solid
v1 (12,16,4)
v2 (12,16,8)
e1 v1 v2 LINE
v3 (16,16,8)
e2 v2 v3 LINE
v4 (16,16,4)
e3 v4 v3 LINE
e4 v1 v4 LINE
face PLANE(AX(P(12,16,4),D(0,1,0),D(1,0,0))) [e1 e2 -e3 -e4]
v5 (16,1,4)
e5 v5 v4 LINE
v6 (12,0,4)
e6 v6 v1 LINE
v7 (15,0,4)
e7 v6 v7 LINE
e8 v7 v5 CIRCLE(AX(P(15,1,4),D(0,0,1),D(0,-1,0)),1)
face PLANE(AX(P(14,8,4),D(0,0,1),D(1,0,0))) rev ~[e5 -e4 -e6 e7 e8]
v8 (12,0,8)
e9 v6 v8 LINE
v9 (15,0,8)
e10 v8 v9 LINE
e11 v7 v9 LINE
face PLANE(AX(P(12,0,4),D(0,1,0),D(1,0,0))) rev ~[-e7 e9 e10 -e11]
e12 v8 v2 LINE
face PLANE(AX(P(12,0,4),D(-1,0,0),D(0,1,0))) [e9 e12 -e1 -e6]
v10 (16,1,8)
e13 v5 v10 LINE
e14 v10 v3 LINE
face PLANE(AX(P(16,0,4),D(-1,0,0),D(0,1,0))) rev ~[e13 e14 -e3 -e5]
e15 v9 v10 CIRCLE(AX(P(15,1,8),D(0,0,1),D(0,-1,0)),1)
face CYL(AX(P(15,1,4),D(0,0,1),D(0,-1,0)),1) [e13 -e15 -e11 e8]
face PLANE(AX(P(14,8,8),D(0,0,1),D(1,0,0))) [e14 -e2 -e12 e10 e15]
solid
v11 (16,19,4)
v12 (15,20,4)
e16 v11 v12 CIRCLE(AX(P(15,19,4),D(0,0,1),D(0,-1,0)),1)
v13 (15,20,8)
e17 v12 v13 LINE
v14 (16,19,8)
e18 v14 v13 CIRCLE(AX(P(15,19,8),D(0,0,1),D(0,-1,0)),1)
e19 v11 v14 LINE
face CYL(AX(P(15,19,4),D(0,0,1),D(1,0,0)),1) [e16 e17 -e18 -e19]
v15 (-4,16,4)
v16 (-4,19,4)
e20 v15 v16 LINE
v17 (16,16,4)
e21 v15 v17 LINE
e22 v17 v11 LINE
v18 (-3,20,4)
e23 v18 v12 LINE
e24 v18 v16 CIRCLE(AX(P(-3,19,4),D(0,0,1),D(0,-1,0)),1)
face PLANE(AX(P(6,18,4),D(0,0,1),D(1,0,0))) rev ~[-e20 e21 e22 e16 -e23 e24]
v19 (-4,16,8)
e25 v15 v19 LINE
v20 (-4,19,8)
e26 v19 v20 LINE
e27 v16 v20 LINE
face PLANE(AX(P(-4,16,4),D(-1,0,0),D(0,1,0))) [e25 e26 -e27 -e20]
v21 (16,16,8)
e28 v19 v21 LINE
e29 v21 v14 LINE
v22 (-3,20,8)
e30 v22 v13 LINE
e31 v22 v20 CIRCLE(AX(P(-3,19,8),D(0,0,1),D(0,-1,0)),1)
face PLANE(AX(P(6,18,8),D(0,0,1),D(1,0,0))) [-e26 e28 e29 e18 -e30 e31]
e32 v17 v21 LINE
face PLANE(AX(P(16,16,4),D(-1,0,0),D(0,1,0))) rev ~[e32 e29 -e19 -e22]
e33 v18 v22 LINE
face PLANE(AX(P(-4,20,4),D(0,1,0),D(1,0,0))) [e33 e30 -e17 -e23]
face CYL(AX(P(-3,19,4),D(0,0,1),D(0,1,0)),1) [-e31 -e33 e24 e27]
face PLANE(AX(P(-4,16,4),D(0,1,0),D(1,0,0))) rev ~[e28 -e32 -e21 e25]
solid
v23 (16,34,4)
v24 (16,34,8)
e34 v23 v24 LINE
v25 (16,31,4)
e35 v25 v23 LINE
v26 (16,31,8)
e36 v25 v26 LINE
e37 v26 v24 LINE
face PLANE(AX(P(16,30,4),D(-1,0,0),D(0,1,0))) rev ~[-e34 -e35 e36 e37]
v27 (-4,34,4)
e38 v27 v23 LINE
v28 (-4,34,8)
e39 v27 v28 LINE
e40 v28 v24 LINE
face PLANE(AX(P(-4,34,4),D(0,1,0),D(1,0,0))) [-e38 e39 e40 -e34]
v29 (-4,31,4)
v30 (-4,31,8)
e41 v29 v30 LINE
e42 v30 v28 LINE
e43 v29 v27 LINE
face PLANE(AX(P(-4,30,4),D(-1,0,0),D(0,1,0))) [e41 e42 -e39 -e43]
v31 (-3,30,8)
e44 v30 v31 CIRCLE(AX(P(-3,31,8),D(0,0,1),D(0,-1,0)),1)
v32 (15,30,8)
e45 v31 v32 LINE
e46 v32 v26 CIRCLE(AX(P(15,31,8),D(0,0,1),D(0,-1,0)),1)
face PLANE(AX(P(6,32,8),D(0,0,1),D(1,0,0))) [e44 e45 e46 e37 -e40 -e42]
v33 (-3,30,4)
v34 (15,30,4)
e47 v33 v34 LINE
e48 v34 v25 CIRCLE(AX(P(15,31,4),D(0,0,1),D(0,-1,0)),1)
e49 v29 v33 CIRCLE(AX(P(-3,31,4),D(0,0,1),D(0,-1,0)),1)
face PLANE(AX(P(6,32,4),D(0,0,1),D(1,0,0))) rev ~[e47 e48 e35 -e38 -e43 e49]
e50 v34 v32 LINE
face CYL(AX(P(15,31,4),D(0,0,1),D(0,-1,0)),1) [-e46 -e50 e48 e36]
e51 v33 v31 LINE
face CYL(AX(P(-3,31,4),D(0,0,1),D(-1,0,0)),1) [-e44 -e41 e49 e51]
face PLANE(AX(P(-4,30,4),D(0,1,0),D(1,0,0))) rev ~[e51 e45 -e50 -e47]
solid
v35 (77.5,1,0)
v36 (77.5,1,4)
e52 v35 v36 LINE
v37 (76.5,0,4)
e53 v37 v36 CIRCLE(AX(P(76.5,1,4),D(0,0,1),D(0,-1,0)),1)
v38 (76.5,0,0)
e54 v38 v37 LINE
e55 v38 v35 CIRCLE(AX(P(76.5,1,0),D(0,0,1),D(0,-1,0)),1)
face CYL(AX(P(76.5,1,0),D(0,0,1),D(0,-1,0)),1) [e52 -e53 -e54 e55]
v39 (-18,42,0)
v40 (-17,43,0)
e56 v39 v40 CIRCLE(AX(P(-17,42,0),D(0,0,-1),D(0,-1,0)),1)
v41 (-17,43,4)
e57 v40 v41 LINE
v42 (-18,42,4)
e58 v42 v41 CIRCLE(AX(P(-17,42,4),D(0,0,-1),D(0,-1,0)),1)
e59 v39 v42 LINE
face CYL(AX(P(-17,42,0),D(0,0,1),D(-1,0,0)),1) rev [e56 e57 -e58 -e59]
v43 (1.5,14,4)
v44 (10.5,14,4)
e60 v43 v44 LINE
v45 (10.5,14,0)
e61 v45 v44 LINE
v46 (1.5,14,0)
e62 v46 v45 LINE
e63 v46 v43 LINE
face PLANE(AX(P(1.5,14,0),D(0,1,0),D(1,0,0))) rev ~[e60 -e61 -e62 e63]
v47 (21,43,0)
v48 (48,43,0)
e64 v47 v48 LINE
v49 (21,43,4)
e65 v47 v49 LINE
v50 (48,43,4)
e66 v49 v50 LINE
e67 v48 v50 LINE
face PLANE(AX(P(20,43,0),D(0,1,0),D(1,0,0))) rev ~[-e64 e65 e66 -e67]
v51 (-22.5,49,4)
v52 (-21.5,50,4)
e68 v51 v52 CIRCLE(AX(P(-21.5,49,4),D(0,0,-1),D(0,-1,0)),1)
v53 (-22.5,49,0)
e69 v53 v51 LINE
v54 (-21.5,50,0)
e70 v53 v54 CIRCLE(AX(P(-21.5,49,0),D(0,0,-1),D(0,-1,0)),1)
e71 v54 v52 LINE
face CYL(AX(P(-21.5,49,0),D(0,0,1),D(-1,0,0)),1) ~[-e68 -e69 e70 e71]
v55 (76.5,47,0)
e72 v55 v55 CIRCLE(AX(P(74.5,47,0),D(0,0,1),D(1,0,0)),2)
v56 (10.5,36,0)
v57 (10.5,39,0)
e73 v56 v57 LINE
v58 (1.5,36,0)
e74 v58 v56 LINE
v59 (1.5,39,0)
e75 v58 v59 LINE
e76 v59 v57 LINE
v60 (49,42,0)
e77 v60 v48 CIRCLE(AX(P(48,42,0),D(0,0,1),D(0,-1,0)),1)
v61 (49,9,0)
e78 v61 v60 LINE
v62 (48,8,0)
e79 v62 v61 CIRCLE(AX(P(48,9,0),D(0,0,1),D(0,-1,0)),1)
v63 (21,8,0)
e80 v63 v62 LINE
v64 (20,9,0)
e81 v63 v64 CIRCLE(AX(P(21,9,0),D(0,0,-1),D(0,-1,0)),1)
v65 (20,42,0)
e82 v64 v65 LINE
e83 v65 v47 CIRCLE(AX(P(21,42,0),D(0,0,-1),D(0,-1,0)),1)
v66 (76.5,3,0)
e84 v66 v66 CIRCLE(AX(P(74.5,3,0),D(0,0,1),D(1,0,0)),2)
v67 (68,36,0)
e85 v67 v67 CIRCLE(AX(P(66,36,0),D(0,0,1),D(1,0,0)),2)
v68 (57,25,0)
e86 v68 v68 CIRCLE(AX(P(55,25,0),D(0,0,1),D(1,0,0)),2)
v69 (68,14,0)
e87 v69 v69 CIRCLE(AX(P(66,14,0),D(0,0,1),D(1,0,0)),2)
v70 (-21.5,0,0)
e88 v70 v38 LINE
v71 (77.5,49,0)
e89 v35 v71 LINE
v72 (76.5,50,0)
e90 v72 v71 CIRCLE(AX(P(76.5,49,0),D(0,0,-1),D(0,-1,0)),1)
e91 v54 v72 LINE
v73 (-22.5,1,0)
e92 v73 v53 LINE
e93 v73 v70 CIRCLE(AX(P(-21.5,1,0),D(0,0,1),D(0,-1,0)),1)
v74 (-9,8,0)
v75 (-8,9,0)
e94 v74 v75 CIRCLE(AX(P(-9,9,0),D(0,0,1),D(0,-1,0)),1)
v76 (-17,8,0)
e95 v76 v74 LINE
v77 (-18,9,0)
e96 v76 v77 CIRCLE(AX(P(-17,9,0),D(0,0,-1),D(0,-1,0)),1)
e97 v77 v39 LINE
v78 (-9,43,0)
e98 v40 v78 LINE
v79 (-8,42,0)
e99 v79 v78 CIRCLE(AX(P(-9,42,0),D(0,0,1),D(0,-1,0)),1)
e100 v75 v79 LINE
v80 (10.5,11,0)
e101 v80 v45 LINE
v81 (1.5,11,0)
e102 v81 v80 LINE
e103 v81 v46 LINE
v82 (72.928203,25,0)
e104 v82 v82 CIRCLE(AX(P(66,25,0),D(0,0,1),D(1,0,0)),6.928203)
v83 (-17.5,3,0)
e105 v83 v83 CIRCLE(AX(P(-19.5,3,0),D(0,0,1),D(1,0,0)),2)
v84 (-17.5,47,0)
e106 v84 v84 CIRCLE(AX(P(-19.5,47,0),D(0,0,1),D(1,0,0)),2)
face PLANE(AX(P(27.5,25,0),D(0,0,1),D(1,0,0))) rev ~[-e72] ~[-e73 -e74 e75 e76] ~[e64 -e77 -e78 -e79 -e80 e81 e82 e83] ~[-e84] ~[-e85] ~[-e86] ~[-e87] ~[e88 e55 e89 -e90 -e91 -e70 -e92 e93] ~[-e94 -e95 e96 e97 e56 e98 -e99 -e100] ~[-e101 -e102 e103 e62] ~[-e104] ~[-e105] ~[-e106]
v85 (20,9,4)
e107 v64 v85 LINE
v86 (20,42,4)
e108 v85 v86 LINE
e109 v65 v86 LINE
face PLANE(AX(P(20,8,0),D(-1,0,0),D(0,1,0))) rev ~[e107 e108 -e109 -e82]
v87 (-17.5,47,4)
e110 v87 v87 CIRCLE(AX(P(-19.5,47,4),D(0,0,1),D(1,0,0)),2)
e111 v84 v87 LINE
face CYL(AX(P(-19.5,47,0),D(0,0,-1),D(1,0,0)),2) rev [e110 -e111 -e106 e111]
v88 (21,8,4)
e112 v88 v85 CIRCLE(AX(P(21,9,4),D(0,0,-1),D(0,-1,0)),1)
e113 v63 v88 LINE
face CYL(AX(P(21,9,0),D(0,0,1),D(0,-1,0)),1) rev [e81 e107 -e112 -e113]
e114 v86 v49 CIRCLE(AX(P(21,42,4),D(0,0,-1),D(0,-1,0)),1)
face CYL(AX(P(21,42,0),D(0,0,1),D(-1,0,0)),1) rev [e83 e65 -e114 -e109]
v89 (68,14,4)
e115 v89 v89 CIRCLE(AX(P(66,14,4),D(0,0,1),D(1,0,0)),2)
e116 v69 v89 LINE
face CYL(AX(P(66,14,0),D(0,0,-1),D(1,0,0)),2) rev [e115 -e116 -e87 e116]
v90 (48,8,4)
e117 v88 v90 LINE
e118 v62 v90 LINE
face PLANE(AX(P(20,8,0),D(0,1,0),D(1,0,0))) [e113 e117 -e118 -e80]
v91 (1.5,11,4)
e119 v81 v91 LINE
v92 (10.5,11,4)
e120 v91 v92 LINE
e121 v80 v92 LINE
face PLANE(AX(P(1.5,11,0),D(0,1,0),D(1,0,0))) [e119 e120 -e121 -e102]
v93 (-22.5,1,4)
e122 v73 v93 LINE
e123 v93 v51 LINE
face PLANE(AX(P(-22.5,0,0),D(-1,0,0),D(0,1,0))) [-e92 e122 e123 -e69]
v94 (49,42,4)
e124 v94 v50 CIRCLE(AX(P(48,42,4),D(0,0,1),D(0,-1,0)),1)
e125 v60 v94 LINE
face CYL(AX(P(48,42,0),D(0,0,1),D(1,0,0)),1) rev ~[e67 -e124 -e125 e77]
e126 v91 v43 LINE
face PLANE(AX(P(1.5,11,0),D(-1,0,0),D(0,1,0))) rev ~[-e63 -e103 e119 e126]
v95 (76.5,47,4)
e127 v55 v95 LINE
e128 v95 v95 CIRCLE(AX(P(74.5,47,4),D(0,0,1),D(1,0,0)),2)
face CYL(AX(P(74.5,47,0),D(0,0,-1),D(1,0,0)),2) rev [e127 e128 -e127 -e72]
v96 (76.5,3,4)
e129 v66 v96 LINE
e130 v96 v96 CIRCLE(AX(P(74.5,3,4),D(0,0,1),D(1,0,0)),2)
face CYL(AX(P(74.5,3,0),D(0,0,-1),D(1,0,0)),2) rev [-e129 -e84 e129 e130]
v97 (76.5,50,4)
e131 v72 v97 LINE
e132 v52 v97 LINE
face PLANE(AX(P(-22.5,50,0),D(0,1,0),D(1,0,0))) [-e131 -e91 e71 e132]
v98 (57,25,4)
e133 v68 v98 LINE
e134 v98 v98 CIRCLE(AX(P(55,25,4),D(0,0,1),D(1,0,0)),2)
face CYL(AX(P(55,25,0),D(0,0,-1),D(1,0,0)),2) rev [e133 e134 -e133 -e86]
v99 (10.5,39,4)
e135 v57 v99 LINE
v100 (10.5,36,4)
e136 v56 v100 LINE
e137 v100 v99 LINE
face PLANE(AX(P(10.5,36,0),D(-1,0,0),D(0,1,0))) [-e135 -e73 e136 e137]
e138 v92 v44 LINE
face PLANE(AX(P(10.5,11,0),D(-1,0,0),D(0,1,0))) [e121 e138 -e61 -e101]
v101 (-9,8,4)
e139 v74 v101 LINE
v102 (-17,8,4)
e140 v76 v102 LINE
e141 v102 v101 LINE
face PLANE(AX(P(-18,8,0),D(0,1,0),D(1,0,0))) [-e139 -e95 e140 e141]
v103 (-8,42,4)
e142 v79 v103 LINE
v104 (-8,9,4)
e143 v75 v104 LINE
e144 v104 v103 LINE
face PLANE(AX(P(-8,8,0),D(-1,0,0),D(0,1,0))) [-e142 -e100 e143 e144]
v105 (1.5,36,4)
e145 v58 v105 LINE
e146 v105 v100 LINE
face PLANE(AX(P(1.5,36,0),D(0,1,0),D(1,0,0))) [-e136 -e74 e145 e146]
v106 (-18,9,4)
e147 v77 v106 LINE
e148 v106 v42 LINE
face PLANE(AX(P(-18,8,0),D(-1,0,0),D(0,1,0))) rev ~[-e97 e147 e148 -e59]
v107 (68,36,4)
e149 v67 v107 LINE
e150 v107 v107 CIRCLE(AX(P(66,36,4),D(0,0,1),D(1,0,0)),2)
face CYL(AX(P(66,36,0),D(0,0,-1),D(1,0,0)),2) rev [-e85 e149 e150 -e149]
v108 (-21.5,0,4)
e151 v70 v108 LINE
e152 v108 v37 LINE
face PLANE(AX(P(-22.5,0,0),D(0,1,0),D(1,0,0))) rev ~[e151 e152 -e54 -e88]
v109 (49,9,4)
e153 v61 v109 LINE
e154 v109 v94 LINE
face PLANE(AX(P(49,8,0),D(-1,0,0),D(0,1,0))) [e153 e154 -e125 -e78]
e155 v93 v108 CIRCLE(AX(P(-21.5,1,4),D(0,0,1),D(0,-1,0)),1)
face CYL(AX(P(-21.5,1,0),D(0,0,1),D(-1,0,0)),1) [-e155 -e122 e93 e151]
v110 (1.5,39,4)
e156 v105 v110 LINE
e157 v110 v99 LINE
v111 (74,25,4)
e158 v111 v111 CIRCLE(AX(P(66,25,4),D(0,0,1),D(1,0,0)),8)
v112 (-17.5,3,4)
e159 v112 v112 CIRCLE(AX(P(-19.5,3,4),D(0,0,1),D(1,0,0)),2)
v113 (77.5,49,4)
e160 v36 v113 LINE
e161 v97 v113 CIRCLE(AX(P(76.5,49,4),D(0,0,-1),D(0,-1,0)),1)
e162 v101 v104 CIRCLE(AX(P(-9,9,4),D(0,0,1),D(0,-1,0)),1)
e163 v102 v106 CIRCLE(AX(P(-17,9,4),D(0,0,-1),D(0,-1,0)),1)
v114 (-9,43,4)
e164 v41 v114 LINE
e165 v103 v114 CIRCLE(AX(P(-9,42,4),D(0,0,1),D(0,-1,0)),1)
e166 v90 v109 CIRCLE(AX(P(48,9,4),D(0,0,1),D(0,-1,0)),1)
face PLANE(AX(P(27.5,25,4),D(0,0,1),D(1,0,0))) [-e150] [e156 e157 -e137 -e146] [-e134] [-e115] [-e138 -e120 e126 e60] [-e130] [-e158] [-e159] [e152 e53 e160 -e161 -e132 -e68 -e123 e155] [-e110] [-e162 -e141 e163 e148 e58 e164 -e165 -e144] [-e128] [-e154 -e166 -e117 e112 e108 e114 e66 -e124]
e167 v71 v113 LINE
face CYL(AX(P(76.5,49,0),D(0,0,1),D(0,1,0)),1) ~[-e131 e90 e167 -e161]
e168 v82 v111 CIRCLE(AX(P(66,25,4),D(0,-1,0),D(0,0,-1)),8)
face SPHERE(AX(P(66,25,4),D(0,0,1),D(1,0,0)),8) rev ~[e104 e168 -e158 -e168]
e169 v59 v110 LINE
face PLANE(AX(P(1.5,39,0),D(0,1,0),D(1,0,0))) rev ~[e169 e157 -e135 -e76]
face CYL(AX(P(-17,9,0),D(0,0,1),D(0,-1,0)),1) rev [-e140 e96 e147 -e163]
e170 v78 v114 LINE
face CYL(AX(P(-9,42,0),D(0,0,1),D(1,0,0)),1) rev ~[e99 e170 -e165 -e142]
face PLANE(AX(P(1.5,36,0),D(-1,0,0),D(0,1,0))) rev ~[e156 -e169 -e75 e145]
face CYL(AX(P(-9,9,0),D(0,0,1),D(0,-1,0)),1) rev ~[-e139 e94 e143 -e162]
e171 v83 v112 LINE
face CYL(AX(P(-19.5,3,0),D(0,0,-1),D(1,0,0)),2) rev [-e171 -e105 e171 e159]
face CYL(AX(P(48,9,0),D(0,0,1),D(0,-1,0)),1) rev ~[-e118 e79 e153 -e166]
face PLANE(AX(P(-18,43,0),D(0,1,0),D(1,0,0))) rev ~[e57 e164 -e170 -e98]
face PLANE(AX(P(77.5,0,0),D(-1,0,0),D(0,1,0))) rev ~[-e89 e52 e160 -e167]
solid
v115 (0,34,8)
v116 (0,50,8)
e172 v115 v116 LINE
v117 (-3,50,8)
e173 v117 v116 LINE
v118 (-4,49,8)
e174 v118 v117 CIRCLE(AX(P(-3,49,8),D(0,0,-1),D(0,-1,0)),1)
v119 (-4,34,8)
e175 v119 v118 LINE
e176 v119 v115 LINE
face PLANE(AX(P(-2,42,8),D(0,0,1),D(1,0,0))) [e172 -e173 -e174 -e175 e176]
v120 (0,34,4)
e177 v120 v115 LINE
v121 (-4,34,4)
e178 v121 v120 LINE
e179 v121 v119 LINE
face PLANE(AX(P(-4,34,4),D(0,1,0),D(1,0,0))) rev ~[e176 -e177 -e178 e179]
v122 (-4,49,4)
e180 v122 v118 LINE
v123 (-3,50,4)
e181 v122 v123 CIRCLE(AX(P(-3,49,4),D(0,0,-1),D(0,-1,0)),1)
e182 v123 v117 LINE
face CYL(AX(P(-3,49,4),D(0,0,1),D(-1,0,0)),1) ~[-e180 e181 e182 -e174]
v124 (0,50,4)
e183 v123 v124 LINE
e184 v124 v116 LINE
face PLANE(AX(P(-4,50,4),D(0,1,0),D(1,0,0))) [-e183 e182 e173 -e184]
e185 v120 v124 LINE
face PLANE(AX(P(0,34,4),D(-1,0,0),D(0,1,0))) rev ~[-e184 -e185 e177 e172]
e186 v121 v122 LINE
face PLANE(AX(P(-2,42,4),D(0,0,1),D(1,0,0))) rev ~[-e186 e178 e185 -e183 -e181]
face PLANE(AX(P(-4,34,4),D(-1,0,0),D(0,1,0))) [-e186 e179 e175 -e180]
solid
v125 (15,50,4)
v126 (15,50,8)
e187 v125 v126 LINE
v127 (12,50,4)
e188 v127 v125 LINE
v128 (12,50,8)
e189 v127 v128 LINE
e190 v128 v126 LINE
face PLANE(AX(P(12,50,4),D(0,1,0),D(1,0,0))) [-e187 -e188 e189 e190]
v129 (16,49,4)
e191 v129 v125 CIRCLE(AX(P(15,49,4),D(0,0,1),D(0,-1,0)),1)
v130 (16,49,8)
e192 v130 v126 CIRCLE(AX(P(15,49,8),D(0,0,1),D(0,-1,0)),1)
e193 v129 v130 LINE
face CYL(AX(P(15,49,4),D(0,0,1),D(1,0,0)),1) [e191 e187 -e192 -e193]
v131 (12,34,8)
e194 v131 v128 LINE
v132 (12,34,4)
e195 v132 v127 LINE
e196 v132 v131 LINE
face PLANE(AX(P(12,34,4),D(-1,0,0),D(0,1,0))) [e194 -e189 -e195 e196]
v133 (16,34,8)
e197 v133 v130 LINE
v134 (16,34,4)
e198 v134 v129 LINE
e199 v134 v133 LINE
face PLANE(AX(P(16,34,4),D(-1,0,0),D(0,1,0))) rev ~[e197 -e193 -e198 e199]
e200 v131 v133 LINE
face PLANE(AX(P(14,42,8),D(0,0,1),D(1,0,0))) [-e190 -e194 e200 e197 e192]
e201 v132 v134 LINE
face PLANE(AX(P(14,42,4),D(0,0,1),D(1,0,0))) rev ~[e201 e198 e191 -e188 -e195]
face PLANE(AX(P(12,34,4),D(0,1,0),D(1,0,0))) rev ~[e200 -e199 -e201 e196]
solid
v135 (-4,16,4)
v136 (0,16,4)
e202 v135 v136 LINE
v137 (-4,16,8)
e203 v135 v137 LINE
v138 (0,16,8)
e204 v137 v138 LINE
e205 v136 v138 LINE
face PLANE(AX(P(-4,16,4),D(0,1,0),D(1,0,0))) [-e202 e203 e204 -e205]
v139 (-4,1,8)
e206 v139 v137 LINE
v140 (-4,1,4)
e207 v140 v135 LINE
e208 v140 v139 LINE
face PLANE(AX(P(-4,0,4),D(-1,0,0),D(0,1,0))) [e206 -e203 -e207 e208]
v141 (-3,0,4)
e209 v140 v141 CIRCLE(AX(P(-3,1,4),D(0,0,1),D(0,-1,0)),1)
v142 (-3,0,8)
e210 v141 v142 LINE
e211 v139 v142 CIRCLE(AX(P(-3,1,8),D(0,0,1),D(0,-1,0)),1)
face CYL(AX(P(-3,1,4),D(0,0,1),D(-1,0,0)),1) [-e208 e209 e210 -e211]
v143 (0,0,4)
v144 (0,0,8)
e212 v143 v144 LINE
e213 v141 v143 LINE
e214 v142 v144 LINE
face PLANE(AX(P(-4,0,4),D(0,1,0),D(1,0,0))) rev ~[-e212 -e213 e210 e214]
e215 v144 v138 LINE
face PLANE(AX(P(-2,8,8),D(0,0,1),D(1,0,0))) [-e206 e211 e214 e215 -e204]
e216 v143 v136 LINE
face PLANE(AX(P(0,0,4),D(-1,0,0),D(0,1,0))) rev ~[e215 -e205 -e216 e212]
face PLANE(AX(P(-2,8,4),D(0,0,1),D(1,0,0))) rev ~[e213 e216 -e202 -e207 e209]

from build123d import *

# Parameters (mm, degrees)
CYLINDER006_R     = 2
CYLINDER006_DEPTH = 4
BOX010_W          = 29
BOX010_H          = 35
BOX010_DEPTH      = 4
CYLINDER004_R     = 2
CYLINDER004_DEPTH = 4
CYLINDER005_R     = 2
CYLINDER005_DEPTH = 4
BOX009_W          = 10
BOX009_H          = 35
BOX009_DEPTH      = 4
BOX008_W          = 9
BOX008_H          = 3
BOX008_DEPTH      = 4
BOX007_W          = 9
BOX007_H          = 3
BOX007_DEPTH      = 4
CYLINDER001_R     = 2
CYLINDER001_DEPTH = 4
CYLINDER002_R     = 2
CYLINDER002_DEPTH = 4
CYLINDER003_R     = 2
CYLINDER003_DEPTH = 4
CYLINDER_R        = 2
CYLINDER_DEPTH    = 4
BOX_W             = 100
BOX_H             = 50
BOX_DEPTH         = 4
FILLET_R          = 1
FILLET001_R       = 1
BOX003_W          = 4
BOX003_H          = 16
BOX003_DEPTH      = 4
FILLET002_R       = 1
BOX002_W          = 4
BOX002_H          = 16
BOX002_DEPTH      = 4
FILLET004_R       = 1
BOX006_W          = 20
BOX006_H          = 4
BOX006_DEPTH      = 4
FILLET005_R       = 1
BOX005_W          = 4
BOX005_H          = 16
BOX005_DEPTH      = 4
FILLET006_R       = 1
BOX001_W          = 20
BOX001_H          = 4
BOX001_DEPTH      = 4
FILLET003_R       = 1
FILLET007_R       = 1
BOX004_W          = 4
BOX004_H          = 16
BOX004_DEPTH      = 4
FILLET008_R       = 1


with BuildPart() as sphere:
    # Sphere → Sphere (revolve)
    with BuildSketch(Plane(origin=(66, 25, 4), x_dir=(1, 0, 0), z_dir=(0, -1, 0))):
        with BuildLine():
            ThreePointArc((0, -8), (8, 0), (0, 8))
            Line((0, 8), (0, -8))
        make_face()
    revolve(axis=Axis((66, 25, 4), (0, 0, 1)))


with BuildPart() as cylinder002:
    # Cylinder006 → Cylinder006 (new body)
    with BuildSketch(Plane(origin=(66, 36, 0), x_dir=(1, 0, 0), z_dir=(0, 0, 1))):
        Circle(CYLINDER006_R)
    extrude(amount=CYLINDER006_DEPTH)


with BuildPart() as cube010:
    # Box010 → Box010 (new body)
    with BuildSketch(Plane(origin=(20, 8, 0), x_dir=(1, 0, 0), z_dir=(0, 0, 1))):
        with Locations((14.5, 17.5)):
            Rectangle(BOX010_W, BOX010_H)
    extrude(amount=BOX010_DEPTH)


with BuildPart() as cylinder:
    # Cylinder004 → Cylinder004 (new body)
    with BuildSketch(Plane(origin=(55, 25, 0), x_dir=(1, 0, 0), z_dir=(0, 0, 1))):
        Circle(CYLINDER004_R)
    extrude(amount=CYLINDER004_DEPTH)


with BuildPart() as cylinder001:
    # Cylinder005 → Cylinder005 (new body)
    with BuildSketch(Plane(origin=(66, 14, 0), x_dir=(1, 0, 0), z_dir=(0, 0, 1))):
        Circle(CYLINDER005_R)
    extrude(amount=CYLINDER005_DEPTH)


with BuildPart() as cube009:
    # Box009 → Box009 (new body)
    with BuildSketch(Plane(origin=(-18, 8, 0), x_dir=(1, 0, 0), z_dir=(0, 0, 1))):
        with Locations((5, 17.5)):
            Rectangle(BOX009_W, BOX009_H)
    extrude(amount=BOX009_DEPTH)


with BuildPart() as cube008:
    # Box008 → Box008 (new body)
    with BuildSketch(Plane(origin=(1.5, 36, 0), x_dir=(1, 0, 0), z_dir=(0, 0, 1))):
        with Locations((4.5, 1.5)):
            Rectangle(BOX008_W, BOX008_H)
    extrude(amount=BOX008_DEPTH)


with BuildPart() as cube007:
    # Box007 → Box007 (new body)
    with BuildSketch(Plane(origin=(1.5, 11, 0), x_dir=(1, 0, 0), z_dir=(0, 0, 1))):
        with Locations((4.5, 1.5)):
            Rectangle(BOX007_W, BOX007_H)
    extrude(amount=BOX007_DEPTH)


with BuildPart() as cylinder001_body:
    # Cylinder001 → Cylinder001 (new body)
    with BuildSketch(Plane(origin=(3, 47, 0), x_dir=(1, 0, 0), z_dir=(0, 0, 1))):
        Circle(CYLINDER001_R)
    extrude(amount=CYLINDER001_DEPTH)


with BuildPart() as cylinder002_body:
    # Cylinder002 → Cylinder002 (new body)
    with BuildSketch(Plane(origin=(97, 3, 0), x_dir=(1, 0, 0), z_dir=(0, 0, 1))):
        Circle(CYLINDER002_R)
    extrude(amount=CYLINDER002_DEPTH)


with BuildPart() as cylinder003:
    # Cylinder003 → Cylinder003 (new body)
    with BuildSketch(Plane(origin=(97, 47, 0), x_dir=(1, 0, 0), z_dir=(0, 0, 1))):
        Circle(CYLINDER003_R)
    extrude(amount=CYLINDER003_DEPTH)


with BuildPart() as cylinder_body:
    # Cylinder → Cylinder (new body)
    with BuildSketch(Plane(origin=(3, 3, 0), x_dir=(1, 0, 0), z_dir=(0, 0, 1))):
        Circle(CYLINDER_R)
    extrude(amount=CYLINDER_DEPTH)


with BuildPart() as fillet001:
    # Box → Box (new body)
    with BuildSketch(Plane.XY):
        with Locations((50, 25)):
            Rectangle(BOX_W, BOX_H)
    extrude(amount=BOX_DEPTH)

    # Cut: cut Cylinder body
    add(cylinder_body.part, mode=Mode.SUBTRACT)

    # Cut001: cut Cylinder003
    add(cylinder003.part, mode=Mode.SUBTRACT)

    # Cut002: cut Cylinder002 body
    add(cylinder002_body.part, mode=Mode.SUBTRACT)

    # Cut003: cut Cylinder001 body
    add(cylinder001_body.part, mode=Mode.SUBTRACT)


with BuildPart() as fillet001_1:
    # Cut003 placement: moved
    add(fillet001.part.moved(Location((-22.5, 0, 0))))

    # Cut004: cut Cube007
    add(cube007.part, mode=Mode.SUBTRACT)

    # Cut005: cut Cube008
    add(cube008.part, mode=Mode.SUBTRACT)

    # Cut006: cut Cube009
    add(cube009.part, mode=Mode.SUBTRACT)

    # Cut007: cut Cylinder001
    add(cylinder001.part, mode=Mode.SUBTRACT)

    # Cut008: cut Cylinder
    add(cylinder.part, mode=Mode.SUBTRACT)

    # Cut009: cut Cube010
    add(cube010.part, mode=Mode.SUBTRACT)

    # Cut010: cut Cylinder002
    add(cylinder002.part, mode=Mode.SUBTRACT)

    # Cut011: cut Sphere
    add(sphere.part, mode=Mode.SUBTRACT)

    # Fillet
    fillet_edges = [fillet001_1.edges().sort_by_distance(p)[0] for p in [
        (-22.5, 0, 2),
        (-22.5, 50, 2),
        (77.5, 0, 2),
        (77.5, 50, 2),
    ]]
    fillet(fillet_edges, radius=FILLET_R)

    # Fillet001
    fillet001_edges = [fillet001_1.edges().sort_by_distance(p)[0] for p in [
        (-18, 8, 2),
        (-18, 43, 2),
        (-8, 43, 2),
        (-8, 8, 2),
        (20, 8, 2),
        (20, 43, 2),
        (49, 43, 2),
        (49, 8, 2),
    ]]
    fillet(fillet001_edges, radius=FILLET001_R)


with BuildPart() as fillet002:
    # Box003 → Box003 (new body)
    with BuildSketch(Plane(origin=(12, 0, 4), x_dir=(1, 0, 0), z_dir=(0, 0, 1))):
        with Locations((2, 8)):
            Rectangle(BOX003_W, BOX003_H)
    extrude(amount=BOX003_DEPTH)

    # Fillet002
    fillet002_edges = [fillet002.edges().sort_by_distance(p)[0] for p in [
        (16, 0, 6),
    ]]
    fillet(fillet002_edges, radius=FILLET002_R)


with BuildPart() as fillet004:
    # Box002 → Box002 (new body)
    with BuildSketch(Plane(origin=(-4, 0, 4), x_dir=(1, 0, 0), z_dir=(0, 0, 1))):
        with Locations((2, 8)):
            Rectangle(BOX002_W, BOX002_H)
    extrude(amount=BOX002_DEPTH)

    # Fillet004
    fillet004_edges = [fillet004.edges().sort_by_distance(p)[0] for p in [
        (-4, 0, 6),
    ]]
    fillet(fillet004_edges, radius=FILLET004_R)


with BuildPart() as fillet005:
    # Box006 → Box006 (new body)
    with BuildSketch(Plane(origin=(-4, 30, 4), x_dir=(1, 0, 0), z_dir=(0, 0, 1))):
        with Locations((10, 2)):
            Rectangle(BOX006_W, BOX006_H)
    extrude(amount=BOX006_DEPTH)

    # Fillet005
    fillet005_edges = [fillet005.edges().sort_by_distance(p)[0] for p in [
        (-4, 30, 6),
        (16, 30, 6),
    ]]
    fillet(fillet005_edges, radius=FILLET005_R)


with BuildPart() as fillet006:
    # Box005 → Box005 (new body)
    with BuildSketch(Plane(origin=(12, 34, 4), x_dir=(1, 0, 0), z_dir=(0, 0, 1))):
        with Locations((2, 8)):
            Rectangle(BOX005_W, BOX005_H)
    extrude(amount=BOX005_DEPTH)

    # Fillet006
    fillet006_edges = [fillet006.edges().sort_by_distance(p)[0] for p in [
        (16, 50, 6),
    ]]
    fillet(fillet006_edges, radius=FILLET006_R)


with BuildPart() as fillet007:
    # Box001 → Box001 (new body)
    with BuildSketch(Plane(origin=(-4, 16, 4), x_dir=(1, 0, 0), z_dir=(0, 0, 1))):
        with Locations((10, 2)):
            Rectangle(BOX001_W, BOX001_H)
    extrude(amount=BOX001_DEPTH)

    # Fillet003
    fillet003_edges = [fillet007.edges().sort_by_distance(p)[0] for p in [
        (16, 20, 6),
    ]]
    fillet(fillet003_edges, radius=FILLET003_R)

    # Fillet007
    fillet007_edges = [fillet007.edges().sort_by_distance(p)[0] for p in [
        (-4, 20, 6),
    ]]
    fillet(fillet007_edges, radius=FILLET007_R)


with BuildPart() as fillet008:
    # Box004 → Box004 (new body)
    with BuildSketch(Plane(origin=(-4, 34, 4), x_dir=(1, 0, 0), z_dir=(0, 0, 1))):
        with Locations((2, 8)):
            Rectangle(BOX004_W, BOX004_H)
    extrude(amount=BOX004_DEPTH)

    # Fillet008
    fillet008_edges = [fillet008.edges().sort_by_distance(p)[0] for p in [
        (-4, 50, 6),
    ]]
    fillet(fillet008_edges, radius=FILLET008_R)


solid = Compound([fillet001_1.part, fillet002.part, fillet004.part, fillet005.part, fillet006.part, fillet007.part, fillet008.part])
